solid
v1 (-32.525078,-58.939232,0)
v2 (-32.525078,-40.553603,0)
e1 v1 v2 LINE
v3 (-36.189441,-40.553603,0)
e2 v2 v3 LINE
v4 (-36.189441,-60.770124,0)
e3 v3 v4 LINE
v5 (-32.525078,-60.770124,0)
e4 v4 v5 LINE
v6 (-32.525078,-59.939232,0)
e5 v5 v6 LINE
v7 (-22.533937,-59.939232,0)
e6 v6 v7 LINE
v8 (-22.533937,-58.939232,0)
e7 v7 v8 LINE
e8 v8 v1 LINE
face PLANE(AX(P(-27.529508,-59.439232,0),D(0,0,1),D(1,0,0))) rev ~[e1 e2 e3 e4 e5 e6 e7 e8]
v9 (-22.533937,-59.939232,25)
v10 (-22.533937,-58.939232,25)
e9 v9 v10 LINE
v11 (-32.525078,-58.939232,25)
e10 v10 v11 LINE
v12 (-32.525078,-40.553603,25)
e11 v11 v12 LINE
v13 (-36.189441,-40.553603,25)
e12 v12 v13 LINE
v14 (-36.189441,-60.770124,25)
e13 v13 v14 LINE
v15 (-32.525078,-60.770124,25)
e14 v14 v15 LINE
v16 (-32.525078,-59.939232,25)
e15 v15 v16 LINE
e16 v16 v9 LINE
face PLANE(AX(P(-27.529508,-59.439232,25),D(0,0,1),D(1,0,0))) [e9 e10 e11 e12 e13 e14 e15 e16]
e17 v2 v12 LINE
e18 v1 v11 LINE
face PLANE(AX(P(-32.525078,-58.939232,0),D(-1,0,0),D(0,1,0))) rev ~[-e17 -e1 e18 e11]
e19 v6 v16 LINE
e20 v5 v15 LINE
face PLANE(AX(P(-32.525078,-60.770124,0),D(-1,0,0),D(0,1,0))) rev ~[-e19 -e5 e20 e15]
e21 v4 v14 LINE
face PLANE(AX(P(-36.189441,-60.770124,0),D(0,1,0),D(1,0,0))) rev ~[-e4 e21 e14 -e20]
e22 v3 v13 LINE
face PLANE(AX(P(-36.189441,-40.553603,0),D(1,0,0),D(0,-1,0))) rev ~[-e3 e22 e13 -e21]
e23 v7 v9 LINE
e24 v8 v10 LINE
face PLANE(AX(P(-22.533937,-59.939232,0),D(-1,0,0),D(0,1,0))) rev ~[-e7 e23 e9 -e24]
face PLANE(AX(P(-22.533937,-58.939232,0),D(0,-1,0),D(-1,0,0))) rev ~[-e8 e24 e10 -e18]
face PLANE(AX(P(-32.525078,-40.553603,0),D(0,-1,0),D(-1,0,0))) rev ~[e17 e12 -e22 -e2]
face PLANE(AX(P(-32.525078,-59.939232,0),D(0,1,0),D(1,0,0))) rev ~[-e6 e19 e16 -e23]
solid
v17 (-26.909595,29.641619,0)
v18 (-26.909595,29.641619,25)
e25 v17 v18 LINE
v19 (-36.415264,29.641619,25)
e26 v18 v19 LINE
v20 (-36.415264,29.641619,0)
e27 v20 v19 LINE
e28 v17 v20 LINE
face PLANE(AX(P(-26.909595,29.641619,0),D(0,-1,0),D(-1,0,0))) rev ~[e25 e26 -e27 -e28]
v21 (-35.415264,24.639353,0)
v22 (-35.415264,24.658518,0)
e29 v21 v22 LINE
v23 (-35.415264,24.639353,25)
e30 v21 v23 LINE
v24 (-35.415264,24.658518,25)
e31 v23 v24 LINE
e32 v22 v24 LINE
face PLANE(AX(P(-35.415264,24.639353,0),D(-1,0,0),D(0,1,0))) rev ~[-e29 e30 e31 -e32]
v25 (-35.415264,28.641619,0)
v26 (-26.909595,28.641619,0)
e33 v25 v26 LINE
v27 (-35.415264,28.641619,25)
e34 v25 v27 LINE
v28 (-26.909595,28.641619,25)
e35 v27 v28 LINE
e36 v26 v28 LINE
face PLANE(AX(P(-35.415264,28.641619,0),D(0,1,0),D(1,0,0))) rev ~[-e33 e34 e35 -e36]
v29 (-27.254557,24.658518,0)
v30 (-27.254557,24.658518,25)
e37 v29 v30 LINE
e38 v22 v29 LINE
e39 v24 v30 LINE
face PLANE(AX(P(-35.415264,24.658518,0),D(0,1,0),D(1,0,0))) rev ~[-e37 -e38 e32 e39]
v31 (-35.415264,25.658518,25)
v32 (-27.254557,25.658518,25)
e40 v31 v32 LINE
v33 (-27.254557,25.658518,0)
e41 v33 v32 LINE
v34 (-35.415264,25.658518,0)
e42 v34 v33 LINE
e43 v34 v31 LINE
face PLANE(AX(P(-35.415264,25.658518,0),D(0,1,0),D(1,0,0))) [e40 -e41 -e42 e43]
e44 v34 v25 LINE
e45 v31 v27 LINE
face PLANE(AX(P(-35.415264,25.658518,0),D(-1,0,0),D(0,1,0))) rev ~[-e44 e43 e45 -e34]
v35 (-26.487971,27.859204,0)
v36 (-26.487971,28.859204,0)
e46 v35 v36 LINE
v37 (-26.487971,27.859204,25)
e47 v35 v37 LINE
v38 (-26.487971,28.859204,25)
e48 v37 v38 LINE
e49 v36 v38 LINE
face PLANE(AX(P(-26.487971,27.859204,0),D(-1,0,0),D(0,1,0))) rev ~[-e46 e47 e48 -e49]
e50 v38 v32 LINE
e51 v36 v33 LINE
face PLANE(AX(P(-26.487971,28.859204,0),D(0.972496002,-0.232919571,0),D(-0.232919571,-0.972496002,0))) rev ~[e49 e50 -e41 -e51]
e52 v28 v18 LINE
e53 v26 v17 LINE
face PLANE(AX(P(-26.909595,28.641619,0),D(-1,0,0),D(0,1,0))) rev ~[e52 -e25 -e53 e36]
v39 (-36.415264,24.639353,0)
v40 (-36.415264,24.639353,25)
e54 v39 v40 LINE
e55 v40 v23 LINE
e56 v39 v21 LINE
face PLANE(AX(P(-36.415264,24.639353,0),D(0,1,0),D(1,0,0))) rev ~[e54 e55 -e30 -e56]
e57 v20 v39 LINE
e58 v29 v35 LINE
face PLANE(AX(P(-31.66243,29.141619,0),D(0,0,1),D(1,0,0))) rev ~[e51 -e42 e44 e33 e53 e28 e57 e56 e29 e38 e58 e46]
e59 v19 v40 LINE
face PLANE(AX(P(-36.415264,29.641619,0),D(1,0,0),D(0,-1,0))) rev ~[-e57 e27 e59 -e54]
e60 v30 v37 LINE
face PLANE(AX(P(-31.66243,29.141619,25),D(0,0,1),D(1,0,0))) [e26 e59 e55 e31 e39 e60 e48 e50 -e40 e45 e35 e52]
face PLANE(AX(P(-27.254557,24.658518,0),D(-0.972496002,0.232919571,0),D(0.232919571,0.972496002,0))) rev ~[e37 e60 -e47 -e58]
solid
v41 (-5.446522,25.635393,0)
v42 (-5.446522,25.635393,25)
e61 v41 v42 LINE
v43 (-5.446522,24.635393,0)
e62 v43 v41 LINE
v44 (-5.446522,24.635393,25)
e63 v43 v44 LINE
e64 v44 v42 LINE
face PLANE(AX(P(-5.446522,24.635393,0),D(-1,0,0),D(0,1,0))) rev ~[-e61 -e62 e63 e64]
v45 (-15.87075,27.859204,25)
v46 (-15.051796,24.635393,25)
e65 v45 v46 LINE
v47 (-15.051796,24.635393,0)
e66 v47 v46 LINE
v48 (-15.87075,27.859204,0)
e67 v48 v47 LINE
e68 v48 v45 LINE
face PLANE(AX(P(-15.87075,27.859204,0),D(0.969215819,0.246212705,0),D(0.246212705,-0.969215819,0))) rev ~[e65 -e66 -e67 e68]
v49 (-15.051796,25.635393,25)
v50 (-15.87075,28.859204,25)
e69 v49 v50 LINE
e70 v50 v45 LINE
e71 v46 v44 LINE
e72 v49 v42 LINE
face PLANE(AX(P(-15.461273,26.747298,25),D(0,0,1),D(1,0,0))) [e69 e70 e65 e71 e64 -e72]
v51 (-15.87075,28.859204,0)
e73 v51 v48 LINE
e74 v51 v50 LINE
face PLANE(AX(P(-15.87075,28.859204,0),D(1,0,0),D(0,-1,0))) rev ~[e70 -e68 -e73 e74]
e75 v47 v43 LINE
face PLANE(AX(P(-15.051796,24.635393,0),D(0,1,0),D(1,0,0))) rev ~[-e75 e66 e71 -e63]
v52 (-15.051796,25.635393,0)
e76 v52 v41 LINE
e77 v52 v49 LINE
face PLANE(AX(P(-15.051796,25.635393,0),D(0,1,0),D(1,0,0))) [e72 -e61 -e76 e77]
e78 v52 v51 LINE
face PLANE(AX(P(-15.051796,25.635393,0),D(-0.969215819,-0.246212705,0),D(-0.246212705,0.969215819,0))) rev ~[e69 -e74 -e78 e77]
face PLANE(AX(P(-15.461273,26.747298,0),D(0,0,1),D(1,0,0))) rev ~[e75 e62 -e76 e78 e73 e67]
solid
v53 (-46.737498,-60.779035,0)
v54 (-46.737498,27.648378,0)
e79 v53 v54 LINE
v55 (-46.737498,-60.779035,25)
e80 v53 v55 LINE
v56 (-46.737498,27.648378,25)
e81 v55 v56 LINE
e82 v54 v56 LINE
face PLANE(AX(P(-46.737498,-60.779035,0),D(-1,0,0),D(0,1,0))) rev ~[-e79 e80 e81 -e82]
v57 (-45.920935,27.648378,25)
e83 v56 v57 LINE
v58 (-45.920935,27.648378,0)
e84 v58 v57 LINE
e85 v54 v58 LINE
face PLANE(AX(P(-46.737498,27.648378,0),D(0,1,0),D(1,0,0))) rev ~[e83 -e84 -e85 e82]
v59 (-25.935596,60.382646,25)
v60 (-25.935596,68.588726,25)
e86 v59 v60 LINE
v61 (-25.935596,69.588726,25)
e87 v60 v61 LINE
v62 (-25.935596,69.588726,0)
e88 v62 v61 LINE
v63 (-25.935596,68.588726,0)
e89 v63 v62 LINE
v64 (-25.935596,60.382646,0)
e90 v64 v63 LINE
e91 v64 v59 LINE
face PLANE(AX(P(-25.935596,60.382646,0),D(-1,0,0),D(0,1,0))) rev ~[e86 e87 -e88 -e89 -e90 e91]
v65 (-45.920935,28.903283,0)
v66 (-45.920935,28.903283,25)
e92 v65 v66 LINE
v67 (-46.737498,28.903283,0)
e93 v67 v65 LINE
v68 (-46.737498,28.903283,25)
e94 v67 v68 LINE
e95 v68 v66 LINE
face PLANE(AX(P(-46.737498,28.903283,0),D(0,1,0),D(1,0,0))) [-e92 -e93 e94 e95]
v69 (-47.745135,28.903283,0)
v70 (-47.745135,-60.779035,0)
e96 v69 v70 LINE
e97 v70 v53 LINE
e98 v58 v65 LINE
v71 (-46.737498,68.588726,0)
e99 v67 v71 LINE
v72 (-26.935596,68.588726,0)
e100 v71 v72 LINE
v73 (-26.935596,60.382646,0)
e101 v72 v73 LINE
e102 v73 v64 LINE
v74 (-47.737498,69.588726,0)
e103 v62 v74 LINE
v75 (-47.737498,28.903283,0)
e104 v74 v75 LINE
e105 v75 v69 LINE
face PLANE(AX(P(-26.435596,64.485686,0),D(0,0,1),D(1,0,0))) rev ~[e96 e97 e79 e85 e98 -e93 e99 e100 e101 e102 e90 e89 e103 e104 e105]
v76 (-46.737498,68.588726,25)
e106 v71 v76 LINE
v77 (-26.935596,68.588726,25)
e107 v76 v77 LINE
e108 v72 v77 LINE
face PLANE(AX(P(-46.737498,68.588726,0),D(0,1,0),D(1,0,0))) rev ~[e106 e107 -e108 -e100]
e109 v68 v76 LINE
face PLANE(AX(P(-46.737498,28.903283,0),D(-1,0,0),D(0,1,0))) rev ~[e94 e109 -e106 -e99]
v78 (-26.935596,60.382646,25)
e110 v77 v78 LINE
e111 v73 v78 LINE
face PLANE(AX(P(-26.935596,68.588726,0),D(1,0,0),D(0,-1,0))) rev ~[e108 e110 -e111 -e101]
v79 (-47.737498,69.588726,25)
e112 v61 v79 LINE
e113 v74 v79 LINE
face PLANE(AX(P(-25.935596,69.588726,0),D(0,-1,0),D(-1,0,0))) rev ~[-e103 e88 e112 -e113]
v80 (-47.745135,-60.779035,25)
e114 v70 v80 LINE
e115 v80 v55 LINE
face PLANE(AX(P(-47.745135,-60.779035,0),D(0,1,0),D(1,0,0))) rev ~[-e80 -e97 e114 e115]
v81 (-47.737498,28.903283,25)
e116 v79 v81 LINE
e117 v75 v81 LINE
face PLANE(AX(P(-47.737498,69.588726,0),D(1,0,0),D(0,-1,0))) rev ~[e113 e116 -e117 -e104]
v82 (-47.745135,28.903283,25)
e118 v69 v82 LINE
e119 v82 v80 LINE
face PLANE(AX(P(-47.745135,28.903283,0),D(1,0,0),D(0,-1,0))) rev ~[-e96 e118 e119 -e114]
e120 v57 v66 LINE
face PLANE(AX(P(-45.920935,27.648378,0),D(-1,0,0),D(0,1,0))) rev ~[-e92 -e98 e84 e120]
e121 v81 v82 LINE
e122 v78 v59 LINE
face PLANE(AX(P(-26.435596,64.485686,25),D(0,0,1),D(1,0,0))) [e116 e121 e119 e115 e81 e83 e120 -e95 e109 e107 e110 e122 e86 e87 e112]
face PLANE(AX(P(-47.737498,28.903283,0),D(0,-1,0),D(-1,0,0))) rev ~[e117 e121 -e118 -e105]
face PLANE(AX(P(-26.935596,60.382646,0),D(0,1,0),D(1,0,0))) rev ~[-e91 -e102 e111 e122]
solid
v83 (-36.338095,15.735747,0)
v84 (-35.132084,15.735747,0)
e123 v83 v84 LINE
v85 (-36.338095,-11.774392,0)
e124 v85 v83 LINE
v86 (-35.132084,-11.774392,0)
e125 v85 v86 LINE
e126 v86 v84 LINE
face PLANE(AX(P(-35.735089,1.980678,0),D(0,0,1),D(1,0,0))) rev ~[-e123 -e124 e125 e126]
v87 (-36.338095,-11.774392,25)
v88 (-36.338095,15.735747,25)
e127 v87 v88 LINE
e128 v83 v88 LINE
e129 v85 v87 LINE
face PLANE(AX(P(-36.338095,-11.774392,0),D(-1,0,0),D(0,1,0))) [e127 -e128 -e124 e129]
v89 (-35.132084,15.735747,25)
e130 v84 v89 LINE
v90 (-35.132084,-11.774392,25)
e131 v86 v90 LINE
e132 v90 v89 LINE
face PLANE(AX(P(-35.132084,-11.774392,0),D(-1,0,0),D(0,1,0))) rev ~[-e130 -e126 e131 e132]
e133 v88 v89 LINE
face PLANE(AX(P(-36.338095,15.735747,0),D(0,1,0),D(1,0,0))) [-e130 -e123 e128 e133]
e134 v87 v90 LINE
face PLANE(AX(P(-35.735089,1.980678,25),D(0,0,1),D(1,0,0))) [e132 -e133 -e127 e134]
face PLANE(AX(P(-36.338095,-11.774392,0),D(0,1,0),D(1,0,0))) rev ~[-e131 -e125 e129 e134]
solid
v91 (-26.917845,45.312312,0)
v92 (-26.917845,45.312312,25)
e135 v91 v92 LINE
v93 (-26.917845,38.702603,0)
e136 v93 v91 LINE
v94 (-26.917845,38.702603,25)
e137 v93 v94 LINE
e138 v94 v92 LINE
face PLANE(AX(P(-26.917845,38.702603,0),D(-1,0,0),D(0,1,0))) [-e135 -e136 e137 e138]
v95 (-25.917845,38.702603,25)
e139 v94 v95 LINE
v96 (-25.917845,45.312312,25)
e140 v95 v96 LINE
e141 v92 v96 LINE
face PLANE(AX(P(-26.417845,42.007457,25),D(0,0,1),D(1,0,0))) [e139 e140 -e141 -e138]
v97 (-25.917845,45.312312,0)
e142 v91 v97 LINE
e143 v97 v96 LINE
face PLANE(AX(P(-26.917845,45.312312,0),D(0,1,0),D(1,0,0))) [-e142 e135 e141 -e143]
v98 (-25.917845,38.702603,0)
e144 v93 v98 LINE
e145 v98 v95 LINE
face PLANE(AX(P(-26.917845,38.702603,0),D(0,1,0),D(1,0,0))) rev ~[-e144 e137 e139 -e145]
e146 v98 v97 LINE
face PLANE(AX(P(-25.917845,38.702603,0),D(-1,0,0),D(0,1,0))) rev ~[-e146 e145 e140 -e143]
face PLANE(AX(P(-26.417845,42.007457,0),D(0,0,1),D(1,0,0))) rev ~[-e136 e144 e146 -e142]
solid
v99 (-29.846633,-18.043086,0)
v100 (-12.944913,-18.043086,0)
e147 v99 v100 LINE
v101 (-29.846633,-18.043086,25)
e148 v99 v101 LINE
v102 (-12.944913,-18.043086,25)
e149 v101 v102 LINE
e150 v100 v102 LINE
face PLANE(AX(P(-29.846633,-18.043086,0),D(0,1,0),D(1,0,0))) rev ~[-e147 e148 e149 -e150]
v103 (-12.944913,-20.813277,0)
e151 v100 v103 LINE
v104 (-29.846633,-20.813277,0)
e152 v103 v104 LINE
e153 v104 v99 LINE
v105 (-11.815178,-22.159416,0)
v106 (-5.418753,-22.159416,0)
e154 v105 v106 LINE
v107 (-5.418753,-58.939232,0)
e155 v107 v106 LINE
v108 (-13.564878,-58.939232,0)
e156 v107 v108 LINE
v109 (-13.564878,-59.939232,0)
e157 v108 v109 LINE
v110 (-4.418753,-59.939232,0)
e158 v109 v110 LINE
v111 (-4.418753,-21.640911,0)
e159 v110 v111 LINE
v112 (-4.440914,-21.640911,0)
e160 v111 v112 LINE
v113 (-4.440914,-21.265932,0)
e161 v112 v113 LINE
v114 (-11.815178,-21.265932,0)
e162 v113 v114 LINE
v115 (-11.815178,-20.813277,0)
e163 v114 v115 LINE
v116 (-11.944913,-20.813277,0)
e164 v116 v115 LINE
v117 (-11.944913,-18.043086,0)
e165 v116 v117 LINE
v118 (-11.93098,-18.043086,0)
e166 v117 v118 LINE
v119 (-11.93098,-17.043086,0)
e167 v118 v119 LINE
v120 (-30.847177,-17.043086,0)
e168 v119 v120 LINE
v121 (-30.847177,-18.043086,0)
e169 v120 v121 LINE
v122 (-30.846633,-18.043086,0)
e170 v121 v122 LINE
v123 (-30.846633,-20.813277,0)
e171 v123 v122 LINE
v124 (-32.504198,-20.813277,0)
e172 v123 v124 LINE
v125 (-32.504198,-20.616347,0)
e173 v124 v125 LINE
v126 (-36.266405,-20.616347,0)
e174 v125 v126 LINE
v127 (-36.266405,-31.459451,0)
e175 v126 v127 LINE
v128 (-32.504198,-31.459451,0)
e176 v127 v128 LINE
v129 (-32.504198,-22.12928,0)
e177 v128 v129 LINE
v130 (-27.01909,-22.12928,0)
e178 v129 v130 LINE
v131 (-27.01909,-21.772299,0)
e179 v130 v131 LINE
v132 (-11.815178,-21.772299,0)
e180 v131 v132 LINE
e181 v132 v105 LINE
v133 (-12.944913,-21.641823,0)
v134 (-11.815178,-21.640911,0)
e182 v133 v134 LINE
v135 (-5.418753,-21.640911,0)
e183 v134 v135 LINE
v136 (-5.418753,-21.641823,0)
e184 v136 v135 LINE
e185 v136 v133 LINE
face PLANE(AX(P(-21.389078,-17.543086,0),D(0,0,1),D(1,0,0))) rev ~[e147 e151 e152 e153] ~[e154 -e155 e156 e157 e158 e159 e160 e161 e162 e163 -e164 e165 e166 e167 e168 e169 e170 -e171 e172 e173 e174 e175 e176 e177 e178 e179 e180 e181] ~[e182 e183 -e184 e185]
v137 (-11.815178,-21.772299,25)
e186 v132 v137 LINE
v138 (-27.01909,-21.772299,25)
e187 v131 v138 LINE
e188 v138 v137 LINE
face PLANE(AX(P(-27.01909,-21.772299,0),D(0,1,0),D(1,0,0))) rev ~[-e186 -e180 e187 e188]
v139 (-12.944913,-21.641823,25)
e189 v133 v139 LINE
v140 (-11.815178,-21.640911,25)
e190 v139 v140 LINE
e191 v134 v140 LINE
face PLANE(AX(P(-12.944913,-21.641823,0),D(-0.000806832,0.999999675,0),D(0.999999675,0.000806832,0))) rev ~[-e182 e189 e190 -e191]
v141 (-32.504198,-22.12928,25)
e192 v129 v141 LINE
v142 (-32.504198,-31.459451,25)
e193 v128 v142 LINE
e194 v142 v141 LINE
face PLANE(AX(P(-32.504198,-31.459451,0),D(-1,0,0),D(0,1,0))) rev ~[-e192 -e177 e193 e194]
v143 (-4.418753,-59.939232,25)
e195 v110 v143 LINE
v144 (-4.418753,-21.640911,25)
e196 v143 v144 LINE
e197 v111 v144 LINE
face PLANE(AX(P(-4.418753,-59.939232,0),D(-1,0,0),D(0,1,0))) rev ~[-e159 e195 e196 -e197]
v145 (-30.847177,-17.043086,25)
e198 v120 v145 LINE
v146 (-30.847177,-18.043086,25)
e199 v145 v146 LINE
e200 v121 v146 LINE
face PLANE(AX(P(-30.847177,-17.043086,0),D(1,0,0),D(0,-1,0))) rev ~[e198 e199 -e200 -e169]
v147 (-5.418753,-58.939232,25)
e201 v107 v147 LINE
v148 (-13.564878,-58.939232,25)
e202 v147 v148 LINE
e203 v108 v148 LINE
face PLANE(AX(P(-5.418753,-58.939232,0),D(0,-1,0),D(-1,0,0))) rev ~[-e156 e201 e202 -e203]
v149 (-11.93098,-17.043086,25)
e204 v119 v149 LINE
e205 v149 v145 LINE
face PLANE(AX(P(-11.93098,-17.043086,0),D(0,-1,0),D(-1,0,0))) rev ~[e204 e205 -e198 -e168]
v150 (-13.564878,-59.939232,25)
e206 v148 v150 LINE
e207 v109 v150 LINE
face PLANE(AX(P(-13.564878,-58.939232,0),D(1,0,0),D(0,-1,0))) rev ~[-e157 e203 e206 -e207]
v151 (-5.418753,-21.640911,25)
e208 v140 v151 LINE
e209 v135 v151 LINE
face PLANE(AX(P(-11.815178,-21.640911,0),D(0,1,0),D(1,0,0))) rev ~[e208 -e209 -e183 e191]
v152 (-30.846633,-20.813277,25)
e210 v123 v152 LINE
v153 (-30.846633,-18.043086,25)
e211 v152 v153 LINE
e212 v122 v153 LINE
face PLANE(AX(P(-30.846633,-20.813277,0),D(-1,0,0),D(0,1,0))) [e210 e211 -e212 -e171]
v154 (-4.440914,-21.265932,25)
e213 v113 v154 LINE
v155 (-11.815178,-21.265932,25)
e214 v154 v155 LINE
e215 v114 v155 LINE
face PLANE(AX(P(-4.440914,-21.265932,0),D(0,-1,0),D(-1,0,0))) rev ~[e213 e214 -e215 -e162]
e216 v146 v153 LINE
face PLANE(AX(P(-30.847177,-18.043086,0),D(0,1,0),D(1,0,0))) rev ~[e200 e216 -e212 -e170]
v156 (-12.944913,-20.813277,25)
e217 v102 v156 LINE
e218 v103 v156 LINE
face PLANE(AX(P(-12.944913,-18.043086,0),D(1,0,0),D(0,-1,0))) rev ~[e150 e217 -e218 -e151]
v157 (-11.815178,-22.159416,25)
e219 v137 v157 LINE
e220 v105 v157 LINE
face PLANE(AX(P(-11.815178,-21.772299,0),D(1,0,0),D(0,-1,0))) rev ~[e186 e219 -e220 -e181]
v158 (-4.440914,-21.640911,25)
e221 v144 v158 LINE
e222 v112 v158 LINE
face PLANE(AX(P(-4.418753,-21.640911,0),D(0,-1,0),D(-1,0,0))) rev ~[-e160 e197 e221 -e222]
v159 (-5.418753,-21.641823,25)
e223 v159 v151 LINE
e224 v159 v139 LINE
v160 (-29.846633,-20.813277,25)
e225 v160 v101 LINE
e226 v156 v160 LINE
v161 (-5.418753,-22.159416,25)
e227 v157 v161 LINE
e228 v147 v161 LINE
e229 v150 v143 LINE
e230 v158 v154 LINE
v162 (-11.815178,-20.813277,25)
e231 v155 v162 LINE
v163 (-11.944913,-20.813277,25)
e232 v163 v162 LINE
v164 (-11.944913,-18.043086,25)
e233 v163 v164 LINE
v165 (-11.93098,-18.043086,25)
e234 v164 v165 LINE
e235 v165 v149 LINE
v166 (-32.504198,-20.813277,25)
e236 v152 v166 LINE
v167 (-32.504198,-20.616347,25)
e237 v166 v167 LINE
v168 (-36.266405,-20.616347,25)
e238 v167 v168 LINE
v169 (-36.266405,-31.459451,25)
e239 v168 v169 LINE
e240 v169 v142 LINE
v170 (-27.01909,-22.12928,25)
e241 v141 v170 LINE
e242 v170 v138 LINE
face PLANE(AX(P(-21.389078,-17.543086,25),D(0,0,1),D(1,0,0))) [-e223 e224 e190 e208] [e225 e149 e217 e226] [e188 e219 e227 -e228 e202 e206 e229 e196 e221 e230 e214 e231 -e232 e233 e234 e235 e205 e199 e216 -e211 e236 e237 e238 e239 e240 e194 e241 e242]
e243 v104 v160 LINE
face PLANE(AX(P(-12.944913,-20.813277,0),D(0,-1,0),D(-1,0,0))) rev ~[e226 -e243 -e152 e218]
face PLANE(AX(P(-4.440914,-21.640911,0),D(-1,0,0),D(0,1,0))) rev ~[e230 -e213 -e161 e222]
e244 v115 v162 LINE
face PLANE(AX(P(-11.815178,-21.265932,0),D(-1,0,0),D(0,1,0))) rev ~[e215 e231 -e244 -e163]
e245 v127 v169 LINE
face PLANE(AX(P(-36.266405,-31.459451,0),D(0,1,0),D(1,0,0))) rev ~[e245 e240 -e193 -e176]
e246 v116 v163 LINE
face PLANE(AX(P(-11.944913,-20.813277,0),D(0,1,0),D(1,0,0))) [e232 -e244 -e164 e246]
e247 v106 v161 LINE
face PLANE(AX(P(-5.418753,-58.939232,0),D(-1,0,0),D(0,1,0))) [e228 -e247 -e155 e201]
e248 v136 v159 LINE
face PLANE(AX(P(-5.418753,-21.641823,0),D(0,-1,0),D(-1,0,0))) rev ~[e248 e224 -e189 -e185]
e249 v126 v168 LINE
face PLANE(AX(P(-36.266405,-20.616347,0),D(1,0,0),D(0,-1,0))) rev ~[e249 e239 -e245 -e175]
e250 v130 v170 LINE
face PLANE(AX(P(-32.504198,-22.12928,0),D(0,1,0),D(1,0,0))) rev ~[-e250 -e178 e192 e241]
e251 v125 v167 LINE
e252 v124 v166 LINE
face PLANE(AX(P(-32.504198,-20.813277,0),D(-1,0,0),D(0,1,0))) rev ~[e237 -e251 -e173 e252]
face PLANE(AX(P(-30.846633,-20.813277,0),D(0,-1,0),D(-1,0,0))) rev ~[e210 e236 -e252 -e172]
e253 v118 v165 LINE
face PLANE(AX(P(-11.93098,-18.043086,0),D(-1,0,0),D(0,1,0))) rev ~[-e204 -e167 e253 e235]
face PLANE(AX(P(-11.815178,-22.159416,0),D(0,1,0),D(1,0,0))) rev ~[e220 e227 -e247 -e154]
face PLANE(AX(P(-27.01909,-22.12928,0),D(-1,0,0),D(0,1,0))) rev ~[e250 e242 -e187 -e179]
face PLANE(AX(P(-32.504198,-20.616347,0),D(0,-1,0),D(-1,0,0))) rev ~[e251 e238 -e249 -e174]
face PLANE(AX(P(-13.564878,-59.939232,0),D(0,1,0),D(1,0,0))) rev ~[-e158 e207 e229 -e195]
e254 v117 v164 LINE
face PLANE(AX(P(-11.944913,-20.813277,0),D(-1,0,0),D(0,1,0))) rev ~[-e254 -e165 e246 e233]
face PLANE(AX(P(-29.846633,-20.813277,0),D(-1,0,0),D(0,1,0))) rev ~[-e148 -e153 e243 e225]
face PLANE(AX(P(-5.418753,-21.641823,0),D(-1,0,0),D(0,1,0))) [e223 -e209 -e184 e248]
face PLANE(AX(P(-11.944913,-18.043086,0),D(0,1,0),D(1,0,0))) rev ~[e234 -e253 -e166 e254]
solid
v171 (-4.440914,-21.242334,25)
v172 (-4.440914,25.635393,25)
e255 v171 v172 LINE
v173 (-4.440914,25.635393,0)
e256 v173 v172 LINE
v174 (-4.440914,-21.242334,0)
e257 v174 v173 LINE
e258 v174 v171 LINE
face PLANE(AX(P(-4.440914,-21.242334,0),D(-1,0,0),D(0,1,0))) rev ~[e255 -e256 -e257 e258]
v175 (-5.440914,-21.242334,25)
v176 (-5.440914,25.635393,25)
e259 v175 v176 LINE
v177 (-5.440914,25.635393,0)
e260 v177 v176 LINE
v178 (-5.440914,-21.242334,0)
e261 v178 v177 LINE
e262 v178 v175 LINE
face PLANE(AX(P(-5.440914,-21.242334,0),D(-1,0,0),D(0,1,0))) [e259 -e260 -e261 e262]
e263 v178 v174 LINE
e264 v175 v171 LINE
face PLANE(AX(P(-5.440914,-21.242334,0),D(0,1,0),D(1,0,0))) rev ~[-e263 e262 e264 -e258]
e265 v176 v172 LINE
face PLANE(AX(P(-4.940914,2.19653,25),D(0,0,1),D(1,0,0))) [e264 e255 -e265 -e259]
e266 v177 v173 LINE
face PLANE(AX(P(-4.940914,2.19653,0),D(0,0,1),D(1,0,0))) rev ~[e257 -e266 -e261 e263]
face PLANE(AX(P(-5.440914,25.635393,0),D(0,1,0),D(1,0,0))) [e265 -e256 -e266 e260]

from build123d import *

# Parameters (mm, degrees)
F0_W     = 0.9822489917
F0_H     = 1
F0_W_2   = 1
F0_H_2   = 39.6854430437
F0_W_3   = 0.8165633082
F0_H_3   = 1.2549050152
F0_W_4   = 1.0076368451
F0_H_4   = 88.427413255
F1_DEPTH = 25
F0_W_5   = 8.1607067734
F0_W_6   = 9.6052740701
F0_H_5   = 46.8777269125
F0_W_7   = 1.2060105801
F0_H_6   = 27.5101391599
F0_H_7   = 6.6097080708
F0_H_8   = 2.7701912224
F0_W_8   = 0.1297352612
F0_H_9   = 0.4526546001
F0_W_9   = 0.9778391793
F0_H_10  = 0.0009115074
F0_H_11  = 36.779815495
F0_W_10  = 9.9911410362
F0_W_11  = 2.5544827804


with BuildPart() as f1:
    # F0 (on Top) → F1 (new body)
    with BuildSketch(Plane.XY):
        Polygon((-25.935596019, 68.5887262225), (-26.9178450108, 68.5887262225), (-26.935596019, 68.5887262225), (-26.935596019, 60.3826455772), (-25.935596019, 60.3826455772), align=None)
        Polygon((-26.935596019, 68.5887262225), (-26.9178450108, 68.5887262225), (-26.9178450108, 69.5887262225), (-46.7308796942, 69.5887262225), (-46.7308796942, 68.5887262225), align=None)
        with Locations((-26.4267205149, 69.0887262225)):
            Rectangle(F0_W, F0_H)
        Polygon((-46.7374978364, 68.5887262225), (-46.7308796942, 68.5887262225), (-46.7308796942, 69.5887262225), (-47.7374978364, 69.5887262225), (-47.7374978364, 68.5887262225), align=None)
        with Locations((-47.2374978364, 48.7460047007)):
            Rectangle(F0_W_2, F0_H_2)
        Polygon((-46.7374978364, 27.6483781636), (-46.7374978364, 28.9032831788), (-47.7374978364, 28.9032831788), (-47.7451346815, 28.9032831788), (-47.7451346815, 27.6483781636), align=None)
        with Locations((-46.3292161822, 28.2758306712)):
            Rectangle(F0_W_3, F0_H_3)
        with Locations((-47.2413162589, -16.5653284639)):
            Rectangle(F0_W_4, F0_H_4)
    extrude(amount=F1_DEPTH)


with BuildPart() as f1b:
    # F0 (on Top) → F1, piece 2 (new body)
    with BuildSketch(Plane.XY):
        Polygon((-26.9095953554, 29.6416189522), (-36.4152640104, 29.6416189522), (-36.4152640104, 28.6416189522), (-35.4152640104, 28.6416189522), (-26.9095953554, 28.6416189522), align=None)
        Polygon((-35.4152640104, 28.6416189522), (-36.4152640104, 28.6416189522), (-36.4152640104, 24.6393531561), (-35.4152640104, 24.6393531561), (-35.4152640104, 24.658517912), (-35.4152640104, 25.658517912), align=None)
        with Locations((-31.3349106237, 25.158517912)):
            Rectangle(F0_W_5, F0_H)
        Polygon((-26.4879707247, 28.8592035174), (-27.254557237, 25.658517912), (-27.254557237, 24.658517912), (-26.4879707247, 27.8592035174), align=None)
    extrude(amount=F1_DEPTH)


with BuildPart() as f1c:
    # F0 (on Top) → F1, piece 3 (new body)
    with BuildSketch(Plane.XY):
        Polygon((-15.8707499504, 28.8592035174), (-15.8707499504, 27.8592035174), (-15.051796101, 24.6353933364), (-15.051796101, 25.6353933364), align=None)
        with Locations((-10.249159066, 25.1353933364)):
            Rectangle(F0_W_6, F0_H)
    extrude(amount=F1_DEPTH)


with BuildPart() as f1d:
    # F0 (on Top) → F1, piece 4 (new body)
    with BuildSketch(Plane.XY):
        with Locations((-4.9409140721, 2.1965298802)):
            Rectangle(F0_W_2, F0_H_5)
    extrude(amount=F1_DEPTH)


with BuildPart() as f1e:
    # F0 (on Top) → F1, piece 5 (new body)
    with BuildSketch(Plane.XY):
        with Locations((-35.7350893319, 1.9806777127)):
            Rectangle(F0_W_7, F0_H_6)
    extrude(amount=F1_DEPTH)


with BuildPart() as f1f:
    # F0 (on Top) → F1, piece 6 (new body)
    with BuildSketch(Plane.XY):
        with Locations((-26.4178450108, 42.0074574649)):
            Rectangle(F0_W_2, F0_H_7)
    extrude(amount=F1_DEPTH)


with BuildPart() as f1g:
    # F0 (on Top) → F1, piece 7 (new body)
    with BuildSketch(Plane.XY):
        Polygon((-11.9309797883, -17.0430857688), (-30.8471769094, -17.0430857688), (-30.8471769094, -18.0430857688), (-30.8466330171, -18.0430857688), (-29.8466330171, -18.0430857688), (-12.9449134693, -18.0430857688), (-11.9449134693, -18.0430857688), (-11.9309797883, -18.0430857688), align=None)
        with Locations((-30.3466330171, -19.42818138)):
            Rectangle(F0_W_2, F0_H_8)
        with Locations((-12.4449134693, -19.42818138)):
            Rectangle(F0_W_2, F0_H_8)
        Polygon((-29.8466330171, -20.8132769912), (-30.8466330171, -20.8132769912), (-32.5041981414, -20.8132769912), (-32.5041981414, -22.1292804927), (-27.0190900192, -22.1292804927), (-27.0190900192, -21.7722989619), (-27.0190900192, -20.8132769912), align=None)
        with Locations((-11.8800458387, -21.0396042913)):
            Rectangle(F0_W_8, F0_H_9)
        with Locations((-12.4449134693, -21.0396042913)):
            Rectangle(F0_W_2, F0_H_9)
        Polygon((-32.5041981414, -22.1292804927), (-32.5041981414, -20.8132769912), (-32.5041981414, -20.6163469702), (-36.2664051354, -20.6163469702), (-36.2664051354, -31.4594507217), (-32.5041981414, -31.4594507217), align=None)
        Polygon((-12.9449134693, -21.2659315914), (-12.9449134693, -20.8132769912), (-27.0190900192, -20.8132769912), (-27.0190900192, -21.7722989619), (-11.8151782081, -21.7722989619), (-11.8151782081, -21.6418225318), (-12.9449134693, -21.6418225318), align=None)
        Polygon((-11.8151782081, -21.2659315914), (-11.9449134693, -21.2659315914), (-12.9449134693, -21.2659315914), (-12.9449134693, -21.6418225318), (-11.8151782081, -21.6409110244), align=None)
        Polygon((-4.4409140721, -21.2659315914), (-11.8151782081, -21.2659315914), (-11.8151782081, -21.6409110244), (-5.4187532514, -21.6409110244), (-4.4409140721, -21.6409110244), align=None)
        Polygon((-11.8151782081, -21.6418225318), (-11.8151782081, -21.7722989619), (-11.8151782081, -22.1594162285), (-5.4187532514, -22.1594162285), (-5.4187532514, -21.6418225318), align=None)
        Polygon((-4.4187532514, -21.6409110244), (-4.4409140721, -21.6409110244), (-4.4409140721, -21.6418225318), (-5.4187532514, -21.6418225318), (-5.4187532514, -22.1594162285), (-4.4187532514, -22.1594162285), align=None)
        with Locations((-4.9298336618, -21.6413667781)):
            Rectangle(F0_W_9, F0_H_10)
        with Locations((-4.9187532514, -40.549323976)):
            Rectangle(F0_W_2, F0_H_11)
        Polygon((-4.4187532514, -58.9392317235), (-5.4187532514, -58.9392317235), (-13.5648781434, -58.9392317235), (-13.5648781434, -59.9392317235), (-4.4187532514, -59.9392317235), align=None)
    extrude(amount=F1_DEPTH)


with BuildPart() as f1h:
    # F0 (on Top) → F1, piece 8 (new body)
    with BuildSketch(Plane.XY):
        with Locations((-27.5295078754, -59.4392317235)):
            Rectangle(F0_W_10, F0_H)
        with Locations((-33.8023197837, -59.4392317235)):
            Rectangle(F0_W_11, F0_H)
        Polygon((-35.0795611739, -58.9392317235), (-32.5250783935, -58.9392317235), (-32.5250783935, -40.5536033213), (-36.1894406378, -40.5536033213), (-36.1894406378, -60.770124197), (-32.5250783935, -60.770124197), (-32.5250783935, -59.9392317235), (-35.0795611739, -59.9392317235), align=None)
    extrude(amount=F1_DEPTH)


solid = Compound([f1.part, f1b.part, f1c.part, f1d.part, f1e.part, f1f.part, f1g.part, f1h.part])
